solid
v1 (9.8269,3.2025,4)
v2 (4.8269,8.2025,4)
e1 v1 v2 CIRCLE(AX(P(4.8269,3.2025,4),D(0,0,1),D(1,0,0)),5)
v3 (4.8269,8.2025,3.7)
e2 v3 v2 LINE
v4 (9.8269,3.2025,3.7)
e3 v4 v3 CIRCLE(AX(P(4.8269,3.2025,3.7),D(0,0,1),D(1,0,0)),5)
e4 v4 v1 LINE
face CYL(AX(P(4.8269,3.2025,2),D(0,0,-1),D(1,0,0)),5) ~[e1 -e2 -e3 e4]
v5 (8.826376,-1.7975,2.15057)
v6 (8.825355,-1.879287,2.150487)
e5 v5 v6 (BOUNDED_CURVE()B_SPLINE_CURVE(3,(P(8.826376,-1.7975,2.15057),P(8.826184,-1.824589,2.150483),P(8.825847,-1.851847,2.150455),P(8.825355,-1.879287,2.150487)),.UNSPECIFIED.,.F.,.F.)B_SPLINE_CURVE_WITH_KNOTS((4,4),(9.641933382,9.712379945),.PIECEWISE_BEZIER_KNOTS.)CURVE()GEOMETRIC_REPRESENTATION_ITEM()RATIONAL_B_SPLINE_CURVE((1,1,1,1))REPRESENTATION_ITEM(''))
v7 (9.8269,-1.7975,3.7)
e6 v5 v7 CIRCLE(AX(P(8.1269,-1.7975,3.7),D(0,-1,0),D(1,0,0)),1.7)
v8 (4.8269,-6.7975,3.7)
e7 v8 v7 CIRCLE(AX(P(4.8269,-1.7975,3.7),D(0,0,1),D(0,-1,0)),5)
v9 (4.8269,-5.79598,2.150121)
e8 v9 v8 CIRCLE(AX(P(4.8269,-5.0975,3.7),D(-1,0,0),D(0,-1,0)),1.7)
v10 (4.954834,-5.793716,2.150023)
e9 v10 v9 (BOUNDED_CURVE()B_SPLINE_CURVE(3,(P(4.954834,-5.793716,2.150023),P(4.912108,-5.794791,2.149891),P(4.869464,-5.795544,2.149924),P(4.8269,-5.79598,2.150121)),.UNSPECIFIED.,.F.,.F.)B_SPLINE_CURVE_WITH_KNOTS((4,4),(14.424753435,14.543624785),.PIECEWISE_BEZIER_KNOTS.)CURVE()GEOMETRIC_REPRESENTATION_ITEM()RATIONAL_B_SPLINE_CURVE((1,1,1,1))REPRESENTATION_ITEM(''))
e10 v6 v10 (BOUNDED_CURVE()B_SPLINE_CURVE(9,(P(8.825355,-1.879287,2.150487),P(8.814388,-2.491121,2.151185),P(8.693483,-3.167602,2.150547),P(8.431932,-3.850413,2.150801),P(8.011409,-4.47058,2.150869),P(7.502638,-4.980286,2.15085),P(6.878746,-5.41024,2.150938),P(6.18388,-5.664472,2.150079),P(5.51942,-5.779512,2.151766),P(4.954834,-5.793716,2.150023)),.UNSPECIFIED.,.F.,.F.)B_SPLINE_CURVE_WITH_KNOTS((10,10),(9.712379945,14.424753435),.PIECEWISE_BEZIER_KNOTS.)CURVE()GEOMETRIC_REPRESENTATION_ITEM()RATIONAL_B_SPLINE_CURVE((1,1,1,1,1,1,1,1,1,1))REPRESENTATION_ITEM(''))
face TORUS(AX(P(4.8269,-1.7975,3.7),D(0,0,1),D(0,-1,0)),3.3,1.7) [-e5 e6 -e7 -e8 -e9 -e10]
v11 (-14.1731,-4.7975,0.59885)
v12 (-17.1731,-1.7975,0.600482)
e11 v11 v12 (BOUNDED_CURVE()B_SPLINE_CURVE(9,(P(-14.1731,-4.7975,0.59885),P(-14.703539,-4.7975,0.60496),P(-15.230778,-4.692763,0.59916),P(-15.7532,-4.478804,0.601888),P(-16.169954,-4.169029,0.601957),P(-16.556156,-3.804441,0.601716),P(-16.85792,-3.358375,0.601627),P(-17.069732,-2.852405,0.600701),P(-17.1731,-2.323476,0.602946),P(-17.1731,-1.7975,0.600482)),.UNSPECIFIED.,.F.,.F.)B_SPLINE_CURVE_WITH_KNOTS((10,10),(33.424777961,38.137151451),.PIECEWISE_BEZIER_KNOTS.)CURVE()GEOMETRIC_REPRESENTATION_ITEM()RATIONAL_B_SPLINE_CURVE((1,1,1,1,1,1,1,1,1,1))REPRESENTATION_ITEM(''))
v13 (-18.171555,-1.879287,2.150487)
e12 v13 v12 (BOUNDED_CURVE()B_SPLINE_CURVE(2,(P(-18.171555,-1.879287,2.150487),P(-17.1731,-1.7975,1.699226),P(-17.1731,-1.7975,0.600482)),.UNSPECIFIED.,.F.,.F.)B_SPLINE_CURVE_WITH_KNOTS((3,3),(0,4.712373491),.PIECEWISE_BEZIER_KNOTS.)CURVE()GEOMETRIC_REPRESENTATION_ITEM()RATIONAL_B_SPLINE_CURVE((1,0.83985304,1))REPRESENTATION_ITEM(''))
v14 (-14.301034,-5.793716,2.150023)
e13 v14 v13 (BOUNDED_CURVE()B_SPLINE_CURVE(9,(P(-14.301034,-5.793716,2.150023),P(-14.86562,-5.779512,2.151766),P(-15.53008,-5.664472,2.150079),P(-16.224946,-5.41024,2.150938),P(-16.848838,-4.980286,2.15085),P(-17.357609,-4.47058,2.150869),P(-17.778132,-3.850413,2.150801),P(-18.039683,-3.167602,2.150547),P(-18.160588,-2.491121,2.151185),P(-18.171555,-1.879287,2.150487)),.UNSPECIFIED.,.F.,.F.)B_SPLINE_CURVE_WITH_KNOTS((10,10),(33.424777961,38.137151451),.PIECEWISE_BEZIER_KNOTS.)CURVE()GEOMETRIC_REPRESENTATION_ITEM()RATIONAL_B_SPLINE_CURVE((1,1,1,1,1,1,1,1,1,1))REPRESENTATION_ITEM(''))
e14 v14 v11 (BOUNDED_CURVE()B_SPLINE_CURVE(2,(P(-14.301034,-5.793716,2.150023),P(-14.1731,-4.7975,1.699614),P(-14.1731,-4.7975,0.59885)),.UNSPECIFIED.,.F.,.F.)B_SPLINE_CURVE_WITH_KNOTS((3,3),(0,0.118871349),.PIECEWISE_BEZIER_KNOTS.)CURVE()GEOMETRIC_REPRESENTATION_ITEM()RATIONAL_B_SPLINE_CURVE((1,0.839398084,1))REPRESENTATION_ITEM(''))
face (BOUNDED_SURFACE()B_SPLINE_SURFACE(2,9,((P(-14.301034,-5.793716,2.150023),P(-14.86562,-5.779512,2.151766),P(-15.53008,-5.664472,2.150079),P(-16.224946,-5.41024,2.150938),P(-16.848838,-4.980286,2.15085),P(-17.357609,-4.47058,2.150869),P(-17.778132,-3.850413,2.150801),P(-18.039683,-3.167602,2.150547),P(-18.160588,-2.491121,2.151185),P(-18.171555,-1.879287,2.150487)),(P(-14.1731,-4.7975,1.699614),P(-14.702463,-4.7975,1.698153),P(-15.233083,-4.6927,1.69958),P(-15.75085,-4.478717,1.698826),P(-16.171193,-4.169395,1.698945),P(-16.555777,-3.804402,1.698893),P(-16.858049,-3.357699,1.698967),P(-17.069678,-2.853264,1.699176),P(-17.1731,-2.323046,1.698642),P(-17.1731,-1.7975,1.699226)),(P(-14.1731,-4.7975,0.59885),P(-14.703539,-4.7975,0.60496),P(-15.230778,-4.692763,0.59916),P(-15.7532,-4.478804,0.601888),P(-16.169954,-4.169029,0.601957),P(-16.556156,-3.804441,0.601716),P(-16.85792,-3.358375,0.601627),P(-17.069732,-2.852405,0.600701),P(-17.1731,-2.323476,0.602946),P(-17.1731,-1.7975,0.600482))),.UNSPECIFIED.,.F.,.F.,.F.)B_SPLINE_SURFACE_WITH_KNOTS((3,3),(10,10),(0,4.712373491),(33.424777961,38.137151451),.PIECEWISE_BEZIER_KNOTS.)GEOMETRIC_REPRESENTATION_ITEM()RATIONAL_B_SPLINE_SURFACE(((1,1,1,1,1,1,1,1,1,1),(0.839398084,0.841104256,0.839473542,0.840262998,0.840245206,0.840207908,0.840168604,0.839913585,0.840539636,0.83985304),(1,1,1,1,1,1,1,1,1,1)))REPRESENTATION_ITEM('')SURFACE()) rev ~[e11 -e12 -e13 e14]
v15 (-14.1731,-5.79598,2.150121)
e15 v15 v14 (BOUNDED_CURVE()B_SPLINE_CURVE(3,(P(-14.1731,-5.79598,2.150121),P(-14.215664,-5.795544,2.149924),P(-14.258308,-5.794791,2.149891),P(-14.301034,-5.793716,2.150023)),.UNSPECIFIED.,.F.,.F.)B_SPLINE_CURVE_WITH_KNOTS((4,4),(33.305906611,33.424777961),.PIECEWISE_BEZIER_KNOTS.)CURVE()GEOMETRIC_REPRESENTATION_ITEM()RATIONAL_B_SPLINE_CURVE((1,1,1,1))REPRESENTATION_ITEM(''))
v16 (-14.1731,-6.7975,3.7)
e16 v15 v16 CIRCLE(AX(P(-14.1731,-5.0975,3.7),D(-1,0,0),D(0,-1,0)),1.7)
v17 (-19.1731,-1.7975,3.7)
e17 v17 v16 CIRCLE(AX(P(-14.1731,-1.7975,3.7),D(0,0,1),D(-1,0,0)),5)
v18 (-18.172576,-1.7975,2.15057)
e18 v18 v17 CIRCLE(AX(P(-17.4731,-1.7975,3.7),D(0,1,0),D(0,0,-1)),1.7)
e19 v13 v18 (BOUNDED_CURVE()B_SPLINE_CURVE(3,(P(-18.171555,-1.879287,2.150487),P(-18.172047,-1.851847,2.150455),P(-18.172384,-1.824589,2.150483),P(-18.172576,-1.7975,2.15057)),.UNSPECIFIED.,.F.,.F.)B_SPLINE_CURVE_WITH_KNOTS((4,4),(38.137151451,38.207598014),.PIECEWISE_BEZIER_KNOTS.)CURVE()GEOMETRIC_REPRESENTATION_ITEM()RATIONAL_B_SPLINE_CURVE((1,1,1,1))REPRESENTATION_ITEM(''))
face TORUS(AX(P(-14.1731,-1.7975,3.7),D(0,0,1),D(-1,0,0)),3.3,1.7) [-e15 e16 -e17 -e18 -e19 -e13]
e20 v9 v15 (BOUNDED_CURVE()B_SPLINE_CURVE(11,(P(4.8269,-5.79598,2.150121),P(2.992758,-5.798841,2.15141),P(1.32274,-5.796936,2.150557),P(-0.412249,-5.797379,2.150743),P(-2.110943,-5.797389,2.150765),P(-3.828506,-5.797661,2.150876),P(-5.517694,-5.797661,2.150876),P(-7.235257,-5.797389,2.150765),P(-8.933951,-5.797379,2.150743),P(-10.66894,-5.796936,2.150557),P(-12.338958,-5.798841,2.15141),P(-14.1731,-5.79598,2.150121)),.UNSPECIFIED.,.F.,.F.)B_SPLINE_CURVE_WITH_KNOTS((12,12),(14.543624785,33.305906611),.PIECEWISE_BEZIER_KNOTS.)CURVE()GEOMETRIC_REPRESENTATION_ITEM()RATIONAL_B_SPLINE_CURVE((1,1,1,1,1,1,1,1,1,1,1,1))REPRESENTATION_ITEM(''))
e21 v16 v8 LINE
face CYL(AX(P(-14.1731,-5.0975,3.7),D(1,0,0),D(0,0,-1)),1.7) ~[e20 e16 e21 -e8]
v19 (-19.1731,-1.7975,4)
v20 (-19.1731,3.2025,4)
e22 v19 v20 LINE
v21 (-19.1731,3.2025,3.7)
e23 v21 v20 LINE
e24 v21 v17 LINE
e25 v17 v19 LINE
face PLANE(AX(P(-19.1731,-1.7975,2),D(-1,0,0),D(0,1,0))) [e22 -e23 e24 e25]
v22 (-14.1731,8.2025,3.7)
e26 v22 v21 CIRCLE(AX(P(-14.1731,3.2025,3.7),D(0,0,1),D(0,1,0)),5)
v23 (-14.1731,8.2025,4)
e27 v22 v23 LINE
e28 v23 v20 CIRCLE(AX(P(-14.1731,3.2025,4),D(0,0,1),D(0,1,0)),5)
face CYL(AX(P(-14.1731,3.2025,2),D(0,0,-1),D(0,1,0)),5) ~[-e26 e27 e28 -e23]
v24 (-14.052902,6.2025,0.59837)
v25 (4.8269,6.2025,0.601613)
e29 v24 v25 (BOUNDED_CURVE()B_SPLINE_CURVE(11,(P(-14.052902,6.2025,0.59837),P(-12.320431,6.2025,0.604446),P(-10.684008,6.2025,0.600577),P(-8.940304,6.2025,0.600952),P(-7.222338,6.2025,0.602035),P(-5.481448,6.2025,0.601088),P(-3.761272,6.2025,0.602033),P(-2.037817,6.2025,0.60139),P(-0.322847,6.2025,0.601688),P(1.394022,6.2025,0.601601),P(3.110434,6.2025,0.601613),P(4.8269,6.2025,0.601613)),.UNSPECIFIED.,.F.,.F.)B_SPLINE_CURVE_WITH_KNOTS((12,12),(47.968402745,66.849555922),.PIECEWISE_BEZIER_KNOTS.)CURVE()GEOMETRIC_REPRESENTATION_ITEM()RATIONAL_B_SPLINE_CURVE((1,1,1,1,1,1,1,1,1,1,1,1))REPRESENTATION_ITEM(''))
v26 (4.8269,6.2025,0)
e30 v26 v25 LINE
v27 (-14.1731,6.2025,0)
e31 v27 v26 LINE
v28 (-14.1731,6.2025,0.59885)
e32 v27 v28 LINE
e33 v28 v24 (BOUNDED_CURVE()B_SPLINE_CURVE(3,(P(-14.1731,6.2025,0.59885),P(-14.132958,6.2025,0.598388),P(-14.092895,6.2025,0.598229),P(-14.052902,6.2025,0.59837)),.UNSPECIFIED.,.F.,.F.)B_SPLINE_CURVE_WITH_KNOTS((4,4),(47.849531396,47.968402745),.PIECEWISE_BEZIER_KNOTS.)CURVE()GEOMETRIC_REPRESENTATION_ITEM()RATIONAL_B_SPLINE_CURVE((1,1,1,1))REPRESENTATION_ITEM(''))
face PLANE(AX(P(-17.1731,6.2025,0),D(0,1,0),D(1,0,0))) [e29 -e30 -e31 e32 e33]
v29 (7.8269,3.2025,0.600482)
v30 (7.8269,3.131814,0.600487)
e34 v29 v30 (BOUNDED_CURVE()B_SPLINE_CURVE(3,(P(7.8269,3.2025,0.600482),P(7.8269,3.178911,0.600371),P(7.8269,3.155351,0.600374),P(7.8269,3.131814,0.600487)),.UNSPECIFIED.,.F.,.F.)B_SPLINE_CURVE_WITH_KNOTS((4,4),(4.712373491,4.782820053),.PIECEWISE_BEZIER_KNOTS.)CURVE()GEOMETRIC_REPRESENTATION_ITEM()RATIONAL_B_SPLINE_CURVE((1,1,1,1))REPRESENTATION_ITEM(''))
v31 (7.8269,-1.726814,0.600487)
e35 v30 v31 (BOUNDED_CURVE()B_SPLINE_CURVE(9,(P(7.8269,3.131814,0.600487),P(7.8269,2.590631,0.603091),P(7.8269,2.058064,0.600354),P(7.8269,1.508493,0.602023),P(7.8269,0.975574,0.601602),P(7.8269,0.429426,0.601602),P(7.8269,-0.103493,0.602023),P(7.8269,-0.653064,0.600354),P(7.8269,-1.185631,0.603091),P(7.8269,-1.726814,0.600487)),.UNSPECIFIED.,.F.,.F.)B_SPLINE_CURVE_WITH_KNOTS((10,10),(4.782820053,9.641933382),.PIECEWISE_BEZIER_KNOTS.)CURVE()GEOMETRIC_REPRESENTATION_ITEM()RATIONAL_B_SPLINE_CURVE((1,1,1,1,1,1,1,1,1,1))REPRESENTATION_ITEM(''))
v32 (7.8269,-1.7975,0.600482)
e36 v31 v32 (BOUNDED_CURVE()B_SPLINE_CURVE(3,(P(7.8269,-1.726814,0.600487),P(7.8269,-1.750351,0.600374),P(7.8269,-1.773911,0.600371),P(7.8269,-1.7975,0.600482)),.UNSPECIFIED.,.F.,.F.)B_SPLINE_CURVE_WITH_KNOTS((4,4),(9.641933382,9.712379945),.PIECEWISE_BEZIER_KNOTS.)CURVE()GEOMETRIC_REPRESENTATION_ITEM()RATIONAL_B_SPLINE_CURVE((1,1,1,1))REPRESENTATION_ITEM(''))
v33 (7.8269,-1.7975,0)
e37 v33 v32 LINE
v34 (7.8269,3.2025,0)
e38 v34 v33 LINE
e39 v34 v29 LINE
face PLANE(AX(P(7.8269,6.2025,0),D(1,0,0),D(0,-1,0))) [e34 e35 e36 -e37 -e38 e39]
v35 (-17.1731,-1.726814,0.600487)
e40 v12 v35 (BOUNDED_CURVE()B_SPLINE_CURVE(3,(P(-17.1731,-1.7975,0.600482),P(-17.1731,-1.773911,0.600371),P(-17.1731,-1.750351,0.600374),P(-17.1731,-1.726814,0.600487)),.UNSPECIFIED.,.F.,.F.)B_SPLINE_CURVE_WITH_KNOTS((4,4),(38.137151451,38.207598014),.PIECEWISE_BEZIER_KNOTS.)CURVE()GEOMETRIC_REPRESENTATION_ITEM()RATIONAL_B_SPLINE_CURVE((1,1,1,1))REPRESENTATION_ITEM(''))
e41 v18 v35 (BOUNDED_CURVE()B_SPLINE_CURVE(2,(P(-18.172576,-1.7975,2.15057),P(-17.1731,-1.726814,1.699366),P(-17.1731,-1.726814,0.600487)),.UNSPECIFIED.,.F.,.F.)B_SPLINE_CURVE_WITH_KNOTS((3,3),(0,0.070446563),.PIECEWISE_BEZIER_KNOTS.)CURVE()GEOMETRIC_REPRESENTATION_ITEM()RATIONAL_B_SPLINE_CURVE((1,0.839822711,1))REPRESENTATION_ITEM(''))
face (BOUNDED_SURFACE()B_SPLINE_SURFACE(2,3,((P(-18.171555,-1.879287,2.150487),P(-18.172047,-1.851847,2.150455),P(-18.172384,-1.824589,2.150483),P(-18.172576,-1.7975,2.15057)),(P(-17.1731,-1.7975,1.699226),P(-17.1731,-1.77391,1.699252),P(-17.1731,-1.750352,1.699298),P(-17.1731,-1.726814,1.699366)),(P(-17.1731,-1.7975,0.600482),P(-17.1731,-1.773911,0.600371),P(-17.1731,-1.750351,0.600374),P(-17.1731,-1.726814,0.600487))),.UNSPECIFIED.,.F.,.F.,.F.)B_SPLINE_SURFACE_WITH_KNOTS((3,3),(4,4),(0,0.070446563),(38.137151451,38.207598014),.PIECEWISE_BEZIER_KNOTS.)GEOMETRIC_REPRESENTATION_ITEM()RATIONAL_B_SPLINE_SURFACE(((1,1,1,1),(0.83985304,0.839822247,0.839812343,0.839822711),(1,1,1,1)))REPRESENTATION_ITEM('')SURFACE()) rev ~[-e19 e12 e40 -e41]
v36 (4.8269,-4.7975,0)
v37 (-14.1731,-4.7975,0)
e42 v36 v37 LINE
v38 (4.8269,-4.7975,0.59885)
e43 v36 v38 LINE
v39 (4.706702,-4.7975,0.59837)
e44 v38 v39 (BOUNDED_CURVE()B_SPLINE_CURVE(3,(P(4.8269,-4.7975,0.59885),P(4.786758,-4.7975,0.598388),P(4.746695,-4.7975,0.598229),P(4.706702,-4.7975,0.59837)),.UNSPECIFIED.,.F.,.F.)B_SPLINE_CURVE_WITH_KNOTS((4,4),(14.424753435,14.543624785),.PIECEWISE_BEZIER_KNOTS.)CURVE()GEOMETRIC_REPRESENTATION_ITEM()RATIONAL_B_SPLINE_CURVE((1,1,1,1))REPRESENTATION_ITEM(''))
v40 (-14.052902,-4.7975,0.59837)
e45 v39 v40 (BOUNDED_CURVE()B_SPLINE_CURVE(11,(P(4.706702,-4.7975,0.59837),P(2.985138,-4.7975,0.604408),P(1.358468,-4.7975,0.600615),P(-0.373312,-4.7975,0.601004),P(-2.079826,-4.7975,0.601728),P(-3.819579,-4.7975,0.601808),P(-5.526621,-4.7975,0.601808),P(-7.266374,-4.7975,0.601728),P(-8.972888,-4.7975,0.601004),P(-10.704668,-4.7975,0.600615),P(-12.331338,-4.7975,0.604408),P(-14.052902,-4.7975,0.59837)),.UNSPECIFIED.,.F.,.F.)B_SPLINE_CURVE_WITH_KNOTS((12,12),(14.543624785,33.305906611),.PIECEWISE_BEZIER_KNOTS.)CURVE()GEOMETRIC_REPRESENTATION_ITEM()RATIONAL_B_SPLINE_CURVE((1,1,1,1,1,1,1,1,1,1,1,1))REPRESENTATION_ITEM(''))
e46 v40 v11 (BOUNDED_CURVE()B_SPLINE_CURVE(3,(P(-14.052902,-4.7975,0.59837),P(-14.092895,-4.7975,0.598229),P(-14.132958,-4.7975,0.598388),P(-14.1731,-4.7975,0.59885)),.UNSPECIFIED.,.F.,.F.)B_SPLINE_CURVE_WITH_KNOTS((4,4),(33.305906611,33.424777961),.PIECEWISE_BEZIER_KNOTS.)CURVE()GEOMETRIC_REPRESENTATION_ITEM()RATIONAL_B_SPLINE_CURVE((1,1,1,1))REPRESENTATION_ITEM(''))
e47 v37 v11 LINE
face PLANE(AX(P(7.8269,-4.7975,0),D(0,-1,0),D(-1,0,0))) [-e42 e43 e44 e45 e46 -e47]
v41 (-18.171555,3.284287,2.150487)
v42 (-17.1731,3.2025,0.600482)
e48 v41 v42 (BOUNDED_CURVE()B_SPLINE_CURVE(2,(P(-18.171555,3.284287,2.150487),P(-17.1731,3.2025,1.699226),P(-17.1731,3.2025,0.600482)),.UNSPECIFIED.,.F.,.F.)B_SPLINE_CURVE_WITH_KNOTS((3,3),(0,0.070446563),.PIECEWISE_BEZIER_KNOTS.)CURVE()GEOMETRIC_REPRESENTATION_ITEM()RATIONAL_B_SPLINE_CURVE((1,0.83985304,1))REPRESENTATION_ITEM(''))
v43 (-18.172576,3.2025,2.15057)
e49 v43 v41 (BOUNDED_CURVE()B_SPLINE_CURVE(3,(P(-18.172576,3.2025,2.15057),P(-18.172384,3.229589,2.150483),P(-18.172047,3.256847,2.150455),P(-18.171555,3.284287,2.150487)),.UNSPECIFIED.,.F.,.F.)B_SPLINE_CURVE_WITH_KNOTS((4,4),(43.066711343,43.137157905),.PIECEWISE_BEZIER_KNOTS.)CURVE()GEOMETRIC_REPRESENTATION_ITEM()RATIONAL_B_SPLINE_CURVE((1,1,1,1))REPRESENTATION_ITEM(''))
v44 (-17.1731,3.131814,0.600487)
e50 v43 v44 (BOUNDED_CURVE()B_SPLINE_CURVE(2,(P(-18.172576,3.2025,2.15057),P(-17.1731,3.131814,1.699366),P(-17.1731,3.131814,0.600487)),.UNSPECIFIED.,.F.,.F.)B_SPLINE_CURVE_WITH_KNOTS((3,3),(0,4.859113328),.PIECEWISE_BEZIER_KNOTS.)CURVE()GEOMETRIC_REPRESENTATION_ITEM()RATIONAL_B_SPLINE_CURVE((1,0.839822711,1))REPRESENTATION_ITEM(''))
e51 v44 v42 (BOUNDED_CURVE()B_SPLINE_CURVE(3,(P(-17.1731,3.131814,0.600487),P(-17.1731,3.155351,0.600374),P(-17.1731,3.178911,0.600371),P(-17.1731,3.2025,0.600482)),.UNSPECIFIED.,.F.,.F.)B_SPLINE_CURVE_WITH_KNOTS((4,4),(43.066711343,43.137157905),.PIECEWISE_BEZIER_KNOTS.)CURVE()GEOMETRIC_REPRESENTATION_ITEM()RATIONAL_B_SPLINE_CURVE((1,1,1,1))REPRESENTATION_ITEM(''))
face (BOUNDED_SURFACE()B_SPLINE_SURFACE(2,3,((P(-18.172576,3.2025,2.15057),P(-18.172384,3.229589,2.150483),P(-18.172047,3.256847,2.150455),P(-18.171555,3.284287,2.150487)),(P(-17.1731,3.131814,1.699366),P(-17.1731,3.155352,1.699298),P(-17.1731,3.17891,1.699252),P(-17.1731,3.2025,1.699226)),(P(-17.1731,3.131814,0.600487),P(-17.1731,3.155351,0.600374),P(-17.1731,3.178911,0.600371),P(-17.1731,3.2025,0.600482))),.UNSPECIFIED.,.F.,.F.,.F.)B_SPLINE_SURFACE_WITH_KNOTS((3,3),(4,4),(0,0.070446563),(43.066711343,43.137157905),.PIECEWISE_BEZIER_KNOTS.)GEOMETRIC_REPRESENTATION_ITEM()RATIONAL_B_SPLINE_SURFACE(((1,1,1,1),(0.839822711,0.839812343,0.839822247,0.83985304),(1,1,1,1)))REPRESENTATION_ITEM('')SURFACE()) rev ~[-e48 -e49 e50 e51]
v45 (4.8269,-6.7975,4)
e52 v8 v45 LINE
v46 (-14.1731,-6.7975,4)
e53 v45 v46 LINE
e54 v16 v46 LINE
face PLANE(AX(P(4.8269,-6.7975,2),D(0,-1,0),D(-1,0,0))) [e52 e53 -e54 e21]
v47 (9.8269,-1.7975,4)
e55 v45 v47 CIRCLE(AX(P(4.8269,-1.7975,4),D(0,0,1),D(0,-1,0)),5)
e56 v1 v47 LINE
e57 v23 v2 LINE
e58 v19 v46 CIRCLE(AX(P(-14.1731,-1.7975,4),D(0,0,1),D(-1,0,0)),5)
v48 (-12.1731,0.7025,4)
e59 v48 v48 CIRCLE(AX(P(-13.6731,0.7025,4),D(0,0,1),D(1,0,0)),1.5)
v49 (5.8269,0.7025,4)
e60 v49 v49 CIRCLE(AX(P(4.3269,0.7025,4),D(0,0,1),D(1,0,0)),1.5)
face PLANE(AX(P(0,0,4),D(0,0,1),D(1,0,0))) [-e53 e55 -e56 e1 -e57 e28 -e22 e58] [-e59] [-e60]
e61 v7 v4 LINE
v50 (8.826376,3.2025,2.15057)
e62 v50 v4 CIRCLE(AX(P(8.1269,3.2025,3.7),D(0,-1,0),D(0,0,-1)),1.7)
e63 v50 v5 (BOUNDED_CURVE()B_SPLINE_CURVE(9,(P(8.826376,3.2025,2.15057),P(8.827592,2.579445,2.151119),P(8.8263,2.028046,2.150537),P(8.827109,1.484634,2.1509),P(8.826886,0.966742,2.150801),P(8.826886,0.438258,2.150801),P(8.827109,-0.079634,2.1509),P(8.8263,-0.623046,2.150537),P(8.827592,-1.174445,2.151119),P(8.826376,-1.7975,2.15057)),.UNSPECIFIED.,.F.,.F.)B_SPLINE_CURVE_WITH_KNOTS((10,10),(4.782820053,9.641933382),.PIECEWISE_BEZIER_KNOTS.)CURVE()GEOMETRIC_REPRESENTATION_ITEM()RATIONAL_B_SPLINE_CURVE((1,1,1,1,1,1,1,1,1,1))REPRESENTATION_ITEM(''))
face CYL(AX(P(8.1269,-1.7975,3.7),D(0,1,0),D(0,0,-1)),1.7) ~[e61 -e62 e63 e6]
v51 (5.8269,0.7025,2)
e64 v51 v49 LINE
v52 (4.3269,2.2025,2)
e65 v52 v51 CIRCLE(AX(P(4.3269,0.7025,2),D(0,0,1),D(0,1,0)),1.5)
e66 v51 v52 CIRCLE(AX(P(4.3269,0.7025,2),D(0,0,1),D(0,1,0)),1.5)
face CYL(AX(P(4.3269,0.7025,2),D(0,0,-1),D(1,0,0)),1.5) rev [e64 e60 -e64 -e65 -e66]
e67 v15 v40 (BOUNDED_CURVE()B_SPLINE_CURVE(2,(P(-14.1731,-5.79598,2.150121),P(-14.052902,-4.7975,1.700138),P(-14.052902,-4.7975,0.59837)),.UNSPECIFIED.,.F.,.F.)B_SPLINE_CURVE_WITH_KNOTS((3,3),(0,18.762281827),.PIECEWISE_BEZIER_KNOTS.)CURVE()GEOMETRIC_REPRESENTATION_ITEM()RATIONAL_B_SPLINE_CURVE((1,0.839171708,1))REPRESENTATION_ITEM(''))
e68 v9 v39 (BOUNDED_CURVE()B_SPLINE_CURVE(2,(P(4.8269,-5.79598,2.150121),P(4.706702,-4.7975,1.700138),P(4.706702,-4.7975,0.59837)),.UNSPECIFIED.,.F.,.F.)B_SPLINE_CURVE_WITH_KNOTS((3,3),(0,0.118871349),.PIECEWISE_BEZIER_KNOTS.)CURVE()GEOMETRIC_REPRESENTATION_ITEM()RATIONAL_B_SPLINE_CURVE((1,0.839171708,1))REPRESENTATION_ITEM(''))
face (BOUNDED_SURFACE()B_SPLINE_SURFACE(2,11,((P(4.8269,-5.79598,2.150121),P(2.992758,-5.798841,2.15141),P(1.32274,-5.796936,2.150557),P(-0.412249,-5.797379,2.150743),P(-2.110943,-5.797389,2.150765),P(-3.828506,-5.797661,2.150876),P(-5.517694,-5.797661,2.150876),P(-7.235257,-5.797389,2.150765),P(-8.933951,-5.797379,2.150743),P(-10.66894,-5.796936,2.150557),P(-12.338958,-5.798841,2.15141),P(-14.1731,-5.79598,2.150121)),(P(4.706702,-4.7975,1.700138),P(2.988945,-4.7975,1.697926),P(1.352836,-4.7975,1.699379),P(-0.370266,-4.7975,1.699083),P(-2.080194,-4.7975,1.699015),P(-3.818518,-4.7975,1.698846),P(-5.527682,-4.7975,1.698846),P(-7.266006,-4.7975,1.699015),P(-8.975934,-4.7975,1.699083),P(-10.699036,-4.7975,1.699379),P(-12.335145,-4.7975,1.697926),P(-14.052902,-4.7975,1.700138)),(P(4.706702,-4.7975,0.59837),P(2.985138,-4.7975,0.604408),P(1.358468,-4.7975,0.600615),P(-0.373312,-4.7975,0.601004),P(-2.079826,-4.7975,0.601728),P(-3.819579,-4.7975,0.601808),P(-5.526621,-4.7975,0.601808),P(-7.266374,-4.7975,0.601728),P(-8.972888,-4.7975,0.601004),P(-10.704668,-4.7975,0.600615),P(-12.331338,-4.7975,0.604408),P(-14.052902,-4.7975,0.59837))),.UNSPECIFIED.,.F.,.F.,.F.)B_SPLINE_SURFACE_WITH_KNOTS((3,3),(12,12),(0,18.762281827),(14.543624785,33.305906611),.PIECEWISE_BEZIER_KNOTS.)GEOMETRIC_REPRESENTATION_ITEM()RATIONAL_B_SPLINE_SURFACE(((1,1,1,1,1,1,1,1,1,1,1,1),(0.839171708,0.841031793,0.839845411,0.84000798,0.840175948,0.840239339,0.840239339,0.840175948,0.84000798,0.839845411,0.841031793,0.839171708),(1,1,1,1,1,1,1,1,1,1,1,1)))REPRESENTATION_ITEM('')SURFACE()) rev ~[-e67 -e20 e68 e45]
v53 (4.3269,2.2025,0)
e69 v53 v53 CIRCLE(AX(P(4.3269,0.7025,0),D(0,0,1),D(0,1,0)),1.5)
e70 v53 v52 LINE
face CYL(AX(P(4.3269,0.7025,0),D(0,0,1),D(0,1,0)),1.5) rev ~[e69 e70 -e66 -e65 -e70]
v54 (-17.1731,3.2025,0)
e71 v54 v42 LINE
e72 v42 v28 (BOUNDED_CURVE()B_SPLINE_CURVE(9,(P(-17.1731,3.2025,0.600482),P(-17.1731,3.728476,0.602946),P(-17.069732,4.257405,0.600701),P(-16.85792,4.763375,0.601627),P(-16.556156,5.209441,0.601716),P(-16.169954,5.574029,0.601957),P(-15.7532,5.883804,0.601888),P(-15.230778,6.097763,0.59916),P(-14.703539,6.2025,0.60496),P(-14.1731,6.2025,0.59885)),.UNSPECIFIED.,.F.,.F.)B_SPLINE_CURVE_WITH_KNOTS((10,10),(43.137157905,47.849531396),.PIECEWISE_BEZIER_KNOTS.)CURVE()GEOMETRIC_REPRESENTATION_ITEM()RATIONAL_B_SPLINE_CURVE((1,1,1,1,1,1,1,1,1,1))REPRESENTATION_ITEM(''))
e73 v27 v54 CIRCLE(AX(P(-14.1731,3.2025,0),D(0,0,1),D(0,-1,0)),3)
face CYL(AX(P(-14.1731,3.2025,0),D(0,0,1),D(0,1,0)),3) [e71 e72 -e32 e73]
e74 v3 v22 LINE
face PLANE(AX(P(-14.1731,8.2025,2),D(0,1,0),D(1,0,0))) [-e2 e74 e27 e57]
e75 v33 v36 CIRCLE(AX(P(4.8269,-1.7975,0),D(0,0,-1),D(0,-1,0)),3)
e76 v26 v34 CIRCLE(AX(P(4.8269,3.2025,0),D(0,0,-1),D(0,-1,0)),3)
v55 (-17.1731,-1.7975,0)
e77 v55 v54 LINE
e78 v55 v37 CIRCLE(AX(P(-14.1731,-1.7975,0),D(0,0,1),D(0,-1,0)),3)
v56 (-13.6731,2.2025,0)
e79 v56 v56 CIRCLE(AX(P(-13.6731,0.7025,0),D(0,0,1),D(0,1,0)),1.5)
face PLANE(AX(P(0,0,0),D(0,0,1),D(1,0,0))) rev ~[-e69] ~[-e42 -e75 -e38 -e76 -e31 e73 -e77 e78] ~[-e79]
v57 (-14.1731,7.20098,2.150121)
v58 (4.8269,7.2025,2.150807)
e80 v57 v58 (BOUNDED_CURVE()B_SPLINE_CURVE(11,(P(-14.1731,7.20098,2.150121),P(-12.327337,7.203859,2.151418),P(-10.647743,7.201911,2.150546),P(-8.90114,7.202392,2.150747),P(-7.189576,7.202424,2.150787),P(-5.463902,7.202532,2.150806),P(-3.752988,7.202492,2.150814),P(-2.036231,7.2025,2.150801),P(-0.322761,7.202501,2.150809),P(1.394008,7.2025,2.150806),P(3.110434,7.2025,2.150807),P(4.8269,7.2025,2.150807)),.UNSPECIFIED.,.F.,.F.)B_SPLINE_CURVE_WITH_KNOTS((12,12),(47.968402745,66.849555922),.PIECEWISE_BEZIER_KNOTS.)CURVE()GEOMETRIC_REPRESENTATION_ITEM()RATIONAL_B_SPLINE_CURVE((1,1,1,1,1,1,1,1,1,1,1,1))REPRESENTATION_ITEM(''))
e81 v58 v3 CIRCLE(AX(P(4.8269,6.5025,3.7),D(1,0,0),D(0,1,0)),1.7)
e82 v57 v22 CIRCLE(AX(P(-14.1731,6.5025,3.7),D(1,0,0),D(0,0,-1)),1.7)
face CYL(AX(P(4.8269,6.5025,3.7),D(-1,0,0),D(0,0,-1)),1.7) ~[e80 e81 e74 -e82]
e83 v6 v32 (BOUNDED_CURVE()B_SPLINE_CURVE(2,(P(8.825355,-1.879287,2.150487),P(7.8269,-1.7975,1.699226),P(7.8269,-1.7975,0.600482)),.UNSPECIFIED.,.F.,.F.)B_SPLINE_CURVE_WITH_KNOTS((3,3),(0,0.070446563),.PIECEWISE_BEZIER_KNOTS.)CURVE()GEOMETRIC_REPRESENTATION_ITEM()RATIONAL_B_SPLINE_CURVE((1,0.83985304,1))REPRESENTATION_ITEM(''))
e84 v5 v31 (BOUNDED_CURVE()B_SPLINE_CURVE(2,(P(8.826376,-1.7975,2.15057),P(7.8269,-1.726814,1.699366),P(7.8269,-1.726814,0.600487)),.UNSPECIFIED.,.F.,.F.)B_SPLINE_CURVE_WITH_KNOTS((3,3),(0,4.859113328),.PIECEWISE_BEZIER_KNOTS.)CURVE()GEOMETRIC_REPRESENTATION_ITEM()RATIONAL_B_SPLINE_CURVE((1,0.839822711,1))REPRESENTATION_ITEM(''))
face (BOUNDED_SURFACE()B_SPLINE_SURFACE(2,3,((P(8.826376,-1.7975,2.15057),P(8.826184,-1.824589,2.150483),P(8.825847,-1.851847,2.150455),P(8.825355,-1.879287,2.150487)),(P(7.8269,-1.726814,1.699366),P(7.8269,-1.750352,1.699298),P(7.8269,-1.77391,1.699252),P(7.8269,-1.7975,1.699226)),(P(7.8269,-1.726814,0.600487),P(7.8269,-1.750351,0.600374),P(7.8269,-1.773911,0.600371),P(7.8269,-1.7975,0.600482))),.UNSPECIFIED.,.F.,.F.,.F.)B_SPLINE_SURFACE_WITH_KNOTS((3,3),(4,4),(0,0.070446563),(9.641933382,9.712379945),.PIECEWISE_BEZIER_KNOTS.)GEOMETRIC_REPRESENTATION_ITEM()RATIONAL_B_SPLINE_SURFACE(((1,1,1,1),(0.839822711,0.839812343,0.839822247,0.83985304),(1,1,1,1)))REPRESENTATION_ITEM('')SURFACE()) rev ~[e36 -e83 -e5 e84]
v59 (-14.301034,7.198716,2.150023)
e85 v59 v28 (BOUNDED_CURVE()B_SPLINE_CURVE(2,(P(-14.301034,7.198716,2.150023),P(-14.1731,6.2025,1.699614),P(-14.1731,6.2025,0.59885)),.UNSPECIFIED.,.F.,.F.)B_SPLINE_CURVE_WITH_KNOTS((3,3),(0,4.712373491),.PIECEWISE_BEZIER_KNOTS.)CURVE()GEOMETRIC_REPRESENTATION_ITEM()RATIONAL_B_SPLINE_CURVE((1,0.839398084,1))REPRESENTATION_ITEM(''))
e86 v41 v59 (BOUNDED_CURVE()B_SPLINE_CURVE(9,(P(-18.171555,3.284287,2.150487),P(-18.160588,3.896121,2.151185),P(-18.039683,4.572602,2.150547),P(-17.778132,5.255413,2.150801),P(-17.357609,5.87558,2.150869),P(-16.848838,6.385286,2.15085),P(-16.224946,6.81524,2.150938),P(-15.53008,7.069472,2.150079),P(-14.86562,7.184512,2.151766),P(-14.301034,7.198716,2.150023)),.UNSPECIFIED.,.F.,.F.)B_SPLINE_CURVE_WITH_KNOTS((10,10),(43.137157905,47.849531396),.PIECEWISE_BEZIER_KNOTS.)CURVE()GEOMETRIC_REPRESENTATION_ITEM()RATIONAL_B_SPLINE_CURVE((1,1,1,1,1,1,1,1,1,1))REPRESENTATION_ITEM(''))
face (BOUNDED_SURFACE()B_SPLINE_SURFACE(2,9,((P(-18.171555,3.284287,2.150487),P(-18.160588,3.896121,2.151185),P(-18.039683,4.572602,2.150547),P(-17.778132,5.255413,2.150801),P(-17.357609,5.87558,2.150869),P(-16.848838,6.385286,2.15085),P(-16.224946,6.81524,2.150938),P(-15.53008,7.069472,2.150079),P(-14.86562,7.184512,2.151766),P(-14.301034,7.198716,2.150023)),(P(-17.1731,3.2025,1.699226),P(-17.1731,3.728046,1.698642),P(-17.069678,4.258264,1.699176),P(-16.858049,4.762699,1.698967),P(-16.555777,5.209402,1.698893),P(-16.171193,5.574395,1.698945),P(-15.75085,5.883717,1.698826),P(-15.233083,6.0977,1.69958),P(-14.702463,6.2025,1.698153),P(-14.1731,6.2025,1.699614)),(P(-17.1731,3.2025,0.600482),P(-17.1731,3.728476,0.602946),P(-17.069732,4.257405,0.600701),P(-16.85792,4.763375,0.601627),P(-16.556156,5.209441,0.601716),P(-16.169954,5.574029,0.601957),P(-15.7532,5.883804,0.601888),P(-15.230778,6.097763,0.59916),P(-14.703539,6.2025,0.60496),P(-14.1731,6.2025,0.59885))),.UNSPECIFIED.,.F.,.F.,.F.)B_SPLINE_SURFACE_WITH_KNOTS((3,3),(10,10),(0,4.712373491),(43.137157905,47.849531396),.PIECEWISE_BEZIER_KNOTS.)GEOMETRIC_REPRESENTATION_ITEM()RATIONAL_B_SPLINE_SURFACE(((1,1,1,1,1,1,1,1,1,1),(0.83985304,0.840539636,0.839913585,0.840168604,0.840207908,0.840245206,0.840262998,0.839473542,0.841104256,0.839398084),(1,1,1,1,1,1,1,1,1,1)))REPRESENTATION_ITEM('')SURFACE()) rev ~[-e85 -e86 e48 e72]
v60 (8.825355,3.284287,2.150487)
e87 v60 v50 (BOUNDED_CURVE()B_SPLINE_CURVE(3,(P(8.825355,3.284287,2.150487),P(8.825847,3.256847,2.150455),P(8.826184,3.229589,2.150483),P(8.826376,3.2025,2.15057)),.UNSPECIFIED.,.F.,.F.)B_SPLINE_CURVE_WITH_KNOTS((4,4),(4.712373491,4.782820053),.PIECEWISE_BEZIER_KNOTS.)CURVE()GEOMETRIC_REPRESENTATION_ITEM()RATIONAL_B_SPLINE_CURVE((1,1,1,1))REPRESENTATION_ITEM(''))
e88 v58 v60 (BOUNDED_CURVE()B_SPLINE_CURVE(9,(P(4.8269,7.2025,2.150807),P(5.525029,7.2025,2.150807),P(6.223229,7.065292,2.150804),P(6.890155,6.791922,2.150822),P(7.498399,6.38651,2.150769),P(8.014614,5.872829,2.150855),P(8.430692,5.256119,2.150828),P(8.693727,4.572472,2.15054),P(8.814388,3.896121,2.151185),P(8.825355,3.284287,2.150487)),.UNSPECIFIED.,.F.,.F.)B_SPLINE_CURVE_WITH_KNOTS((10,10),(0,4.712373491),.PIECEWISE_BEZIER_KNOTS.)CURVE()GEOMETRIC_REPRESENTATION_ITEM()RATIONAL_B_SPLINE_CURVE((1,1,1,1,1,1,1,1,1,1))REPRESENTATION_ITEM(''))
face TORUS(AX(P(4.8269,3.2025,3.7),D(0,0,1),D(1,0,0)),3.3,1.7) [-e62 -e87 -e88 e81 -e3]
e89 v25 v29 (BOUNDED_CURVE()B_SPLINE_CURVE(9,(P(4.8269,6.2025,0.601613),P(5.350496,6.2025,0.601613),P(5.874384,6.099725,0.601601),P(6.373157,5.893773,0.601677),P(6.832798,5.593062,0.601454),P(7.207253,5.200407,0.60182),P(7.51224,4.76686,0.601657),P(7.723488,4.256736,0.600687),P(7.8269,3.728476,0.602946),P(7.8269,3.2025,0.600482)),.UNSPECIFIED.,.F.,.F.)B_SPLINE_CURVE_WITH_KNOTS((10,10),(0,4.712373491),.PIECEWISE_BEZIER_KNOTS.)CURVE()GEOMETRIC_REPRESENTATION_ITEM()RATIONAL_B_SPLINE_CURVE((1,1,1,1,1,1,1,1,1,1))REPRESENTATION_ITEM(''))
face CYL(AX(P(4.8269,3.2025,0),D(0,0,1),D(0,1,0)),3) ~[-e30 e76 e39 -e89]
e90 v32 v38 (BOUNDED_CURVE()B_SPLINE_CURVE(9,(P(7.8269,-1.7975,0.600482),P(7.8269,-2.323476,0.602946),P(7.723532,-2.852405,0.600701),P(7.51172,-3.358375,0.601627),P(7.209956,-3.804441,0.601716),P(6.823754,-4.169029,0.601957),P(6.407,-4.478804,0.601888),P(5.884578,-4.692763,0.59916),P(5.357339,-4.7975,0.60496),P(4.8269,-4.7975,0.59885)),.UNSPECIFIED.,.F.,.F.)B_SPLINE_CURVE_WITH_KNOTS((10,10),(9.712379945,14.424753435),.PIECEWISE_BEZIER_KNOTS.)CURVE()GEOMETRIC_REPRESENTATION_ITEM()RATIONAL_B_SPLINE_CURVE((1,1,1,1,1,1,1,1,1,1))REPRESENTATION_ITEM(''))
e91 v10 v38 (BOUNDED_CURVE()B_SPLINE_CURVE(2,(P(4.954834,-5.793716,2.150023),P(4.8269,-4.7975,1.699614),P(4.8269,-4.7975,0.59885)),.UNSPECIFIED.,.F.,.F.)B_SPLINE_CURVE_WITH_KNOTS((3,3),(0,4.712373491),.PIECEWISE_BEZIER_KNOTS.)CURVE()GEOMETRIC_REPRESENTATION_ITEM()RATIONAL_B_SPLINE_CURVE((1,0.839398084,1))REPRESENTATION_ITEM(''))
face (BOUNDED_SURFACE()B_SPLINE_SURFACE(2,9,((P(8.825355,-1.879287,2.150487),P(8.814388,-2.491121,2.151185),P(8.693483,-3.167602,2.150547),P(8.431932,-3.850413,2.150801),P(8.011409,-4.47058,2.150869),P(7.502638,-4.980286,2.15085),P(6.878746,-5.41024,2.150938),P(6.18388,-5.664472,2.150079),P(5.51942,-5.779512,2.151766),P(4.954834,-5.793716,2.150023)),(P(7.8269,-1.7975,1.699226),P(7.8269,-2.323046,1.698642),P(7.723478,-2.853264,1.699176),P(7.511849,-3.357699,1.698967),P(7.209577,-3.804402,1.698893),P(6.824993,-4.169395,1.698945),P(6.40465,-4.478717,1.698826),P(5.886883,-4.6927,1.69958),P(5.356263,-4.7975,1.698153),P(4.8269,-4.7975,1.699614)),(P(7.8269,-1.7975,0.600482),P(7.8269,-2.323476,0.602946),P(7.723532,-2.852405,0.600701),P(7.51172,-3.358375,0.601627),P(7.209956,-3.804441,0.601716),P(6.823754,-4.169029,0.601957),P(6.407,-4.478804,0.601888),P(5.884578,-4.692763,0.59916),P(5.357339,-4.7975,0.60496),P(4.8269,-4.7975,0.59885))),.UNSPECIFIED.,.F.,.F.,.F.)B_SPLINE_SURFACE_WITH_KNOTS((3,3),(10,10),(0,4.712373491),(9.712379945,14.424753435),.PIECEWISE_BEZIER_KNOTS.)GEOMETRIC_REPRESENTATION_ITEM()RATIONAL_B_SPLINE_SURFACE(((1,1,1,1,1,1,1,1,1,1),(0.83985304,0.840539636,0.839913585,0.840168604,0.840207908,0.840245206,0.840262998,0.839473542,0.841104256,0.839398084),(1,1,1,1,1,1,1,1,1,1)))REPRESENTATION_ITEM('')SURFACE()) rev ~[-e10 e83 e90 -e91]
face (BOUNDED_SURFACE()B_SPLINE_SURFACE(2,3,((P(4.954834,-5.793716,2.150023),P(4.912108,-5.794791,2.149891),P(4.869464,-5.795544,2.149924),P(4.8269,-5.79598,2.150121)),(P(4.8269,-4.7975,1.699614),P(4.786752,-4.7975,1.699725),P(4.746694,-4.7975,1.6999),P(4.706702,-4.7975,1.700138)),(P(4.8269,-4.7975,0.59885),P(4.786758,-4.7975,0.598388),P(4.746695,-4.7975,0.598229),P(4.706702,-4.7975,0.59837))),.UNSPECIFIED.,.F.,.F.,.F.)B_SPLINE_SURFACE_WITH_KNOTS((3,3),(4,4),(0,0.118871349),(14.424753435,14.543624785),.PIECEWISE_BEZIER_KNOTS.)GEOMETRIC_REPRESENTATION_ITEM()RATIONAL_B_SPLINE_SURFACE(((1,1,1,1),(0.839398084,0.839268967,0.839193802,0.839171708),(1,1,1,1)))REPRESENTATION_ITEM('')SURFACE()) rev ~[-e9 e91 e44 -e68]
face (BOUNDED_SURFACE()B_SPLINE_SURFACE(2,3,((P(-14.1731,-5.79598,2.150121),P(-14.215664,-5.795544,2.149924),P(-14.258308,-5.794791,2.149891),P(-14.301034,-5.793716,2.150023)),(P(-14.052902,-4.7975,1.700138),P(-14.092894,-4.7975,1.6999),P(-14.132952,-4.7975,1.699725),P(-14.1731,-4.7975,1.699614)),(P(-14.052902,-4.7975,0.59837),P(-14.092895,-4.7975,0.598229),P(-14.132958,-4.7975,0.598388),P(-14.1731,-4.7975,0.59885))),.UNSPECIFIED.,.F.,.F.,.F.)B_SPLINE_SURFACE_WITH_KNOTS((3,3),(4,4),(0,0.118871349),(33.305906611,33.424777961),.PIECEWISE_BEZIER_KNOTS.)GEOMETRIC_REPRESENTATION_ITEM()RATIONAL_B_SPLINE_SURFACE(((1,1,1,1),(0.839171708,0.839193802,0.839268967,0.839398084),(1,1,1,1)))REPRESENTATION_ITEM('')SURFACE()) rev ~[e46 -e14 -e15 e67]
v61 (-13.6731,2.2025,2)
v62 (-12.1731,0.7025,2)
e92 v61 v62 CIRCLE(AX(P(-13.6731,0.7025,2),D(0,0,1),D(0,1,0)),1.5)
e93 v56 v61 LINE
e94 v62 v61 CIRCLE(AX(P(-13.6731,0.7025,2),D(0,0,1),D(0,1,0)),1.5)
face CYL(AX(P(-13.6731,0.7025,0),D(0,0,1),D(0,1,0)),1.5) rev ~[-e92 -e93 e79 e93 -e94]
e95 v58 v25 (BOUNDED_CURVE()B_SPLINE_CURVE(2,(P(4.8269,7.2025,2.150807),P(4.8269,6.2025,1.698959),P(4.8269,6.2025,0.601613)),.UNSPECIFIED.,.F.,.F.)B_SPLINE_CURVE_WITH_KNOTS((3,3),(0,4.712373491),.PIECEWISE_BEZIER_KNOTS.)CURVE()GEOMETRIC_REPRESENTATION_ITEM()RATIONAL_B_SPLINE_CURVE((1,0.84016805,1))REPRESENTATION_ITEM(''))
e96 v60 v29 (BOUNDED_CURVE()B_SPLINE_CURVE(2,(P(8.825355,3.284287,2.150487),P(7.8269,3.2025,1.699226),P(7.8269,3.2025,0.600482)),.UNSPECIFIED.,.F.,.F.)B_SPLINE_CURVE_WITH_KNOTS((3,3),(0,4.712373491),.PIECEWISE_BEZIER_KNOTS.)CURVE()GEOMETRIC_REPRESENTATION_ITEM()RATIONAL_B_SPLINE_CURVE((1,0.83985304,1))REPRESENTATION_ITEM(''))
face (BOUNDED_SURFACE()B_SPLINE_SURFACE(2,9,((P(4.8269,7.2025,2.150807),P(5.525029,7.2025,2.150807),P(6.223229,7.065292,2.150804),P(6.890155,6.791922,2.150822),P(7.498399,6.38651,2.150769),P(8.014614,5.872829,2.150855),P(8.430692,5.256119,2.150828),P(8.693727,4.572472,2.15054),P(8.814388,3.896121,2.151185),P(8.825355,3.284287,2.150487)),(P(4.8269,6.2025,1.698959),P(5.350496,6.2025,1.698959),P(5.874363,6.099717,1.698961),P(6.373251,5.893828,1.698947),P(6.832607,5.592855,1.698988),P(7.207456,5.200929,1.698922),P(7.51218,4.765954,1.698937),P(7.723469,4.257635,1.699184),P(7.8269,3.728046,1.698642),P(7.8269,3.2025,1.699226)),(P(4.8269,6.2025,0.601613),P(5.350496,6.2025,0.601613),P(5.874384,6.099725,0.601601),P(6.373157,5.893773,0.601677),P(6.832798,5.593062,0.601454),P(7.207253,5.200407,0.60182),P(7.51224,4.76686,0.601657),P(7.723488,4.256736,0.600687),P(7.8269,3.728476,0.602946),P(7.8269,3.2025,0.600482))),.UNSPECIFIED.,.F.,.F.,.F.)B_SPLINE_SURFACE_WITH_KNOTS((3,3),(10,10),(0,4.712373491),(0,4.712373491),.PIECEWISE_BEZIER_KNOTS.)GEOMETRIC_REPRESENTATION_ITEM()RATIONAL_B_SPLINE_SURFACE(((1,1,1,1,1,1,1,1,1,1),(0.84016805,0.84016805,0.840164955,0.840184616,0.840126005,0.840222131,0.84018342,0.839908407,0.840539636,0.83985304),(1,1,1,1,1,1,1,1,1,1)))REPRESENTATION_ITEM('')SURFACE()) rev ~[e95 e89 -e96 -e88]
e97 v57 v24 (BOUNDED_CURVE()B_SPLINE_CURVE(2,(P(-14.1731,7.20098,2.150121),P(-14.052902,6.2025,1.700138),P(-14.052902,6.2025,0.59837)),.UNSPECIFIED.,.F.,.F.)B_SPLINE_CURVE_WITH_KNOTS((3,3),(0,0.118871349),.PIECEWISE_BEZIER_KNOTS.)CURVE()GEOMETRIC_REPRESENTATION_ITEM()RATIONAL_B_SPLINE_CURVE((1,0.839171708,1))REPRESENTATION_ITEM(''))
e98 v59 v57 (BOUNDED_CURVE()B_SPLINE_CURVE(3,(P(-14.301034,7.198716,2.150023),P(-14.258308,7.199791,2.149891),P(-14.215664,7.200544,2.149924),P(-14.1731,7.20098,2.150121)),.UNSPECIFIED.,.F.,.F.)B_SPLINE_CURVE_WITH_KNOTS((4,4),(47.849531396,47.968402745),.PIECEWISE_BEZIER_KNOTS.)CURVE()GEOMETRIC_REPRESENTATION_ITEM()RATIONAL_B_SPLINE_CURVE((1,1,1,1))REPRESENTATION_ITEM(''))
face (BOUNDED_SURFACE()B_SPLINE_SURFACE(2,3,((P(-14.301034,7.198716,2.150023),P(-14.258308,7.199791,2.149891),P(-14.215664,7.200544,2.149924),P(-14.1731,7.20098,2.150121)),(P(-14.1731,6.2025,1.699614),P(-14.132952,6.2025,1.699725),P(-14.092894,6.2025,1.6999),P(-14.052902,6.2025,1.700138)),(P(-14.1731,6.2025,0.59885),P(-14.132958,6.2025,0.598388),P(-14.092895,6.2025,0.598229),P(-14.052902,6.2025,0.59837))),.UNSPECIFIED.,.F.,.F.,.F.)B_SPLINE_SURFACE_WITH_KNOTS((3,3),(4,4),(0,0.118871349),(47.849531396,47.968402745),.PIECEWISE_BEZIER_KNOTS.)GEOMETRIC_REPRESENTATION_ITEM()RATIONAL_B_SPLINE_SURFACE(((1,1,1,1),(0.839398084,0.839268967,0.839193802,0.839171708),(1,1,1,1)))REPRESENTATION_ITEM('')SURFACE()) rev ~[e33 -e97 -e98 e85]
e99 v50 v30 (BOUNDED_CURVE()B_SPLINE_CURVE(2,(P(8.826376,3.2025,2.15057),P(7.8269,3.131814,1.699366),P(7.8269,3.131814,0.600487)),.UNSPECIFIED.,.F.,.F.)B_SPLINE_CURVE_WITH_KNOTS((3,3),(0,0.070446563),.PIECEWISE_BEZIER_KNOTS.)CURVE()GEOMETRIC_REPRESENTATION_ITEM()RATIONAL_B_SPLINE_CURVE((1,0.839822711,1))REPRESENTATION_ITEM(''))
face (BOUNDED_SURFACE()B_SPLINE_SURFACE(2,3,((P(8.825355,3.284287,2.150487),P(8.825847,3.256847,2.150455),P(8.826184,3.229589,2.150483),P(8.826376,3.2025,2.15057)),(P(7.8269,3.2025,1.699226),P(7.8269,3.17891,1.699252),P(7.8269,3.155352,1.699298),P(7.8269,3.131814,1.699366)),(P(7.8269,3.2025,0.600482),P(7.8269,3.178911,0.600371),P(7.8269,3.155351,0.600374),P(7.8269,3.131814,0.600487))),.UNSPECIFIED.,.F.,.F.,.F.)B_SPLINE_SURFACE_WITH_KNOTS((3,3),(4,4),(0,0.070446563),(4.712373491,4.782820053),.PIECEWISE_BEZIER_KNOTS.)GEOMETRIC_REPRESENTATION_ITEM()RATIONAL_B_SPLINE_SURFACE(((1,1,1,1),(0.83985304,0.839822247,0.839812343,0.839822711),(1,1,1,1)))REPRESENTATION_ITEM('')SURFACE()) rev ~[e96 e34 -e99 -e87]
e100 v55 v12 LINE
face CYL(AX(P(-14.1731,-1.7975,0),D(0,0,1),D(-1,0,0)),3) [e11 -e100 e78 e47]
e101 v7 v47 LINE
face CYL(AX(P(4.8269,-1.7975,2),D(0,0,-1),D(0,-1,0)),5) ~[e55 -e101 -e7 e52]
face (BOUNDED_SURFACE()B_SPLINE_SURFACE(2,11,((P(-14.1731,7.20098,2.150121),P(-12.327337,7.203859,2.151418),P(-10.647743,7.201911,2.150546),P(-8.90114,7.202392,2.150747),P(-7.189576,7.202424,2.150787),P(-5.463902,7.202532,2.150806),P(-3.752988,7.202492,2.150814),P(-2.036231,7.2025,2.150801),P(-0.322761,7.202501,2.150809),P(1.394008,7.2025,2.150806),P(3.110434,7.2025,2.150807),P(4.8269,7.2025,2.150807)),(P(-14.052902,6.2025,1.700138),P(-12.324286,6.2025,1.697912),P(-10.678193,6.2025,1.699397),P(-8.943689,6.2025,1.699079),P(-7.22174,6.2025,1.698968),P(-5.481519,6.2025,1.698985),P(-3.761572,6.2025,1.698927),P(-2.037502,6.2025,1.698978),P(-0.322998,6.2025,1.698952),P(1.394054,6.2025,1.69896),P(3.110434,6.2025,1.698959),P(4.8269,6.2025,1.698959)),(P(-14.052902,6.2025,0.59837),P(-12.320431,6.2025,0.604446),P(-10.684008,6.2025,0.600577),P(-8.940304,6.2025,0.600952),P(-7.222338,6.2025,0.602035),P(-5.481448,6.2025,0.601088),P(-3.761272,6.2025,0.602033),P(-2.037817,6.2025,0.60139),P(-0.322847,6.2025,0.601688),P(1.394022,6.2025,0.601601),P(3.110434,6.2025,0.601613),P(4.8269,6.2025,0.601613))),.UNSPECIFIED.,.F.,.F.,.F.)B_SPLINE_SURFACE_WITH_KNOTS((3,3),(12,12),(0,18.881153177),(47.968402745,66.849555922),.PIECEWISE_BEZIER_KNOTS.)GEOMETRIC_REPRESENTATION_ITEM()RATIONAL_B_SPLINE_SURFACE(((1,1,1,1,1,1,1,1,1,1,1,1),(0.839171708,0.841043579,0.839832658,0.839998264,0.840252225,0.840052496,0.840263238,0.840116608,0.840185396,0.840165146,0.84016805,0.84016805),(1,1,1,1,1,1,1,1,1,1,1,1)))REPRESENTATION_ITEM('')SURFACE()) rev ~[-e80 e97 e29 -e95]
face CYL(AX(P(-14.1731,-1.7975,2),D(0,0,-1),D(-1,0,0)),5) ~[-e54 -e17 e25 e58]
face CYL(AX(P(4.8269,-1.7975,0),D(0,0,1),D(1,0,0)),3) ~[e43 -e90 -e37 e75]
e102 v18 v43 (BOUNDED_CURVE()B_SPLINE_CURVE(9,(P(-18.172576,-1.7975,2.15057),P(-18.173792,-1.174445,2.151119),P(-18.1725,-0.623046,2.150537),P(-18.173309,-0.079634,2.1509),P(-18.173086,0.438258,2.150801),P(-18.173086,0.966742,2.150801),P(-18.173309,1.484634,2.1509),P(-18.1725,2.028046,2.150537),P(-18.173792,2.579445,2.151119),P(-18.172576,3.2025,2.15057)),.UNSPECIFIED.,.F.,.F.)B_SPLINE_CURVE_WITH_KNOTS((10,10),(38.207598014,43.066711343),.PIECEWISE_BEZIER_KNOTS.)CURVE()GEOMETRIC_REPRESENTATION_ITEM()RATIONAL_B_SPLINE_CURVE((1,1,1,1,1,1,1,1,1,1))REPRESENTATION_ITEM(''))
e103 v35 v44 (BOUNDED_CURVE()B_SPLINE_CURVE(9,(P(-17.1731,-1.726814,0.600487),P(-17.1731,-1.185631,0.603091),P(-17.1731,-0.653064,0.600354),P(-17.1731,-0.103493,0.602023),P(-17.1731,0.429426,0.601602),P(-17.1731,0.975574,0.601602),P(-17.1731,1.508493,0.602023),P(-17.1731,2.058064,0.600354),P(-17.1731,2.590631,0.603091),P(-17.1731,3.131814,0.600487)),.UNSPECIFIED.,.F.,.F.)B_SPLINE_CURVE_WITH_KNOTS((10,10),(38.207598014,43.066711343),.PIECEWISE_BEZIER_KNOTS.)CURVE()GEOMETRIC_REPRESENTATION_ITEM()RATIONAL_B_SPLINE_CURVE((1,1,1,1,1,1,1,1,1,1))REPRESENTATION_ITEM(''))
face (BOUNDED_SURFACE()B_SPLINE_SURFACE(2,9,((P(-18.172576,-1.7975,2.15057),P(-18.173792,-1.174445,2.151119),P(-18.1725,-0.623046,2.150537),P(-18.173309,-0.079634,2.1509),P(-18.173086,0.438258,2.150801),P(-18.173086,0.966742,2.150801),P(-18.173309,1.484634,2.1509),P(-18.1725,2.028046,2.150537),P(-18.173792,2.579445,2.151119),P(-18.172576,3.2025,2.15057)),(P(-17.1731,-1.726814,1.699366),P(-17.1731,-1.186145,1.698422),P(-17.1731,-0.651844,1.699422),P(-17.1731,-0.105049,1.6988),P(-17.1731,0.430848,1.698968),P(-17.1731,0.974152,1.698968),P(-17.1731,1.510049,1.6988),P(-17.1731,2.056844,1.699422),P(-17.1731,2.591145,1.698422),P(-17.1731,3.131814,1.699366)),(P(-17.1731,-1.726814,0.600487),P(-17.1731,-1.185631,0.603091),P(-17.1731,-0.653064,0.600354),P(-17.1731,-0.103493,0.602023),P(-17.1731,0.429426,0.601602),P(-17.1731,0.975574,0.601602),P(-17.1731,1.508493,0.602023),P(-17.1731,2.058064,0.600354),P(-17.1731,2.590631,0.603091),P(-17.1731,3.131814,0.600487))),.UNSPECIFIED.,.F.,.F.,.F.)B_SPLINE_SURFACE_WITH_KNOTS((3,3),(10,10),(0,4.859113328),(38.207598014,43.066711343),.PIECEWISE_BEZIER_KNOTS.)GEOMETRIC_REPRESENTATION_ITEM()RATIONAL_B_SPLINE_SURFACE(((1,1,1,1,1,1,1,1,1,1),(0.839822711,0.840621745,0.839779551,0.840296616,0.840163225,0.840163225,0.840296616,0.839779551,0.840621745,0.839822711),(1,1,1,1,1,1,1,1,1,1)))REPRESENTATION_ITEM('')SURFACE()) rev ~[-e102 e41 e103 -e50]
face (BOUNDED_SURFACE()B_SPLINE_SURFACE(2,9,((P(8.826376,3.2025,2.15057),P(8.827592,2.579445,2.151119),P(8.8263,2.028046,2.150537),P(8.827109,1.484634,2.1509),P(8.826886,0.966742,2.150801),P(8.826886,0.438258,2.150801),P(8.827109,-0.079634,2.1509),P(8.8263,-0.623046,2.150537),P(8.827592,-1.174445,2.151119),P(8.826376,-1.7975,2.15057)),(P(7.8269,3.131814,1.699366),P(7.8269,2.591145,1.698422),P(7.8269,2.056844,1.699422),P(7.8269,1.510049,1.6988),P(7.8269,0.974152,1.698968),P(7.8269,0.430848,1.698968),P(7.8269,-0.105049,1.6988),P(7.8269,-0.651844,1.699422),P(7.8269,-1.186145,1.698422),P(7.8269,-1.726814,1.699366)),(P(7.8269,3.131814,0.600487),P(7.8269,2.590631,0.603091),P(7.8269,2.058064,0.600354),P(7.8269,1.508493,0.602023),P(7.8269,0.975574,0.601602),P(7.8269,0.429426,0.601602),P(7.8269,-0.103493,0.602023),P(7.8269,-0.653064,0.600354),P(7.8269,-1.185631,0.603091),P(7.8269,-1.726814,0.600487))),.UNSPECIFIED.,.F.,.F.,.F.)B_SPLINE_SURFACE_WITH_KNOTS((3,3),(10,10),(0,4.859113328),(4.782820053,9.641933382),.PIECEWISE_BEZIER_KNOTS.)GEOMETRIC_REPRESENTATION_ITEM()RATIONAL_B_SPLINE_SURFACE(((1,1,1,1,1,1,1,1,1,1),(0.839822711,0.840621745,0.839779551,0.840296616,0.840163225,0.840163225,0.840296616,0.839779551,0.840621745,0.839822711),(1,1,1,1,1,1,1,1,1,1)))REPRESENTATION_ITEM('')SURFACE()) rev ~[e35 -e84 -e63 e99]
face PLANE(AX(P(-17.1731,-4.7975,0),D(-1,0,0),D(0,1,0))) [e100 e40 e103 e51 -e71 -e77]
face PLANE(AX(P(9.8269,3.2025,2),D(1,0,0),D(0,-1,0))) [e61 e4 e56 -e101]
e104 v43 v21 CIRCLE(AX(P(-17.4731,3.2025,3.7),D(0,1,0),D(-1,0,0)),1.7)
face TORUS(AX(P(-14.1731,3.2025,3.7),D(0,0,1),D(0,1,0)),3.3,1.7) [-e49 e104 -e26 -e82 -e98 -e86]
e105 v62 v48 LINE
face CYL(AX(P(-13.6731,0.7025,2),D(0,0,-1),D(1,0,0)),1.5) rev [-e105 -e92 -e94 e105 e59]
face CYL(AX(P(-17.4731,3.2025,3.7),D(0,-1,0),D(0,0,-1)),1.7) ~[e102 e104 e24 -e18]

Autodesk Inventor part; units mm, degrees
ref_plane "YZ Plane" through (0, 0, 0) normal (1, 0, 0) x (0, 1, 0)
ref_plane "XZ Plane" through (0, 0, 0) normal (0, 1, 0) x (-1, 0, 0)
ref_plane "XY Plane" through (0, 0, 0) normal (0, 0, 1) x (1, 0, 0)
sketch "Szkic1" plane through (0, 0, 0) normal (0, 0, 1) x (1, 0, 0)
  line L0 (-17.1731, 6.2025) -> (7.8269, 6.2025)
  line L1 (7.8269, 6.2025) -> (7.8269, -4.7975)
  line L2 (7.8269, -4.7975) -> (-17.1731, -4.7975)
  line L3 (-17.1731, -4.7975) -> (-17.1731, 6.2025)
  point P0 (0, 0)
  point P1 (-13.6731, 0.7025)
  point P2 (4.3269, 0.7025)
  dimension "d0" = 25
  dimension "d1" = 11
  dimension "d2" = 5.5
  dimension "d3" = 5.5
  dimension "d4" = 3.5
  dimension "d5" = 3.5
extrude "Wyciągnięcie proste1" add sketch "Szkic1" along normal blind 2
hole "Otwór1" at (-13.6731, 0.7025, 0) at (4.3269, 0.7025, 0) direction (0, 0, 1) diameter 3 end through all
fillet "Zaokrąglenie1" radius 3 4 edges at (-17.1731, 6.2025, 1) (-17.1731, -4.7975, 1) (7.8269, 6.2025, 1) (7.8269, -4.7975, 1)
sketch "Szkic3" plane through (0, 0, 2) normal (0, 0, 1) x (1, 0, 0)
  arc A0 (4.8269, -4.7975) -> (7.8269, -1.7975) centre (4.8269, -1.7975) ccw projected
  line L0 (7.8269, -1.7975) -> (7.8269, 3.2025) projected
  arc A1 (7.8269, 3.2025) -> (4.8269, 6.2025) centre (4.8269, 3.2025) ccw projected
  line L1 (4.8269, 6.2025) -> (-14.1731, 6.2025) projected
  arc A2 (-14.1731, 6.2025) -> (-17.1731, 3.2025) centre (-14.1731, 3.2025) ccw projected
  line L2 (-17.1731, 3.2025) -> (-17.1731, -1.7975) projected
  arc A3 (-17.1731, -1.7975) -> (-14.1731, -4.7975) centre (-14.1731, -1.7975) ccw projected
  line L3 (-14.1731, -4.7975) -> (4.8269, -4.7975) projected
  circle A4 centre (-13.6731, 0.7025) radius 1.5 projected
  circle A5 centre (4.3269, 0.7025) radius 1.5 projected
  line L4 (-14.1731, 8.2025) -> (4.8269, 8.2025)
  arc A6 (9.8269, 3.2025) -> (4.8269, 8.2025) centre (4.8269, 3.2025) ccw
  line L5 (9.8269, 3.2025) -> (9.8269, -1.7975)
  arc A7 (4.8269, -6.7975) -> (9.8269, -1.7975) centre (4.8269, -1.7975) ccw
  line L6 (4.8269, -6.7975) -> (-14.1731, -6.7975)
  arc A8 (-19.1731, -1.7975) -> (-14.1731, -6.7975) centre (-14.1731, -1.7975) ccw
  line L7 (-19.1731, -1.7975) -> (-19.1731, 3.2025)
  arc A9 (-14.1731, 8.2025) -> (-19.1731, 3.2025) centre (-14.1731, 3.2025) ccw
  point P0 (0, 0)
  dimension "d16" = 2
extrude "Wyciągnięcie proste2" add sketch "Szkic3" along normal blind 2 contours L3 A3 L2 A2 L1 A1 L0 A0 | L4 A6 L5 A7 L6 A8 L7 A9
fillet "Zaokrąglenie2" radius 1.7 16 edges at (8.3624, -5.333, 2) (-4.6731, -6.7975, 2) (-17.7087, -5.333, 2) (-19.1731, 0.7025, 2) (-17.7087, 6.7381, 2) (-4.6731, 8.2025, 2) (8.3624, 6.7381, 2) (9.8269, 0.7025, 2) (6.9482, 5.3238, 2) (-4.6731, 6.2025, 2) (-16.2944, 5.3238, 2) (-17.1731, 0.7025, 2) (-16.2944, -3.9188, 2) (-4.6731, -4.7975, 2) (6.9482, -3.9188, 2) (7.8269, 0.7025, 2)
equation "\"d5\" = d4"
properties part number "3DP_ABS_Y_Axis_Belt_Mount_Spacer"
